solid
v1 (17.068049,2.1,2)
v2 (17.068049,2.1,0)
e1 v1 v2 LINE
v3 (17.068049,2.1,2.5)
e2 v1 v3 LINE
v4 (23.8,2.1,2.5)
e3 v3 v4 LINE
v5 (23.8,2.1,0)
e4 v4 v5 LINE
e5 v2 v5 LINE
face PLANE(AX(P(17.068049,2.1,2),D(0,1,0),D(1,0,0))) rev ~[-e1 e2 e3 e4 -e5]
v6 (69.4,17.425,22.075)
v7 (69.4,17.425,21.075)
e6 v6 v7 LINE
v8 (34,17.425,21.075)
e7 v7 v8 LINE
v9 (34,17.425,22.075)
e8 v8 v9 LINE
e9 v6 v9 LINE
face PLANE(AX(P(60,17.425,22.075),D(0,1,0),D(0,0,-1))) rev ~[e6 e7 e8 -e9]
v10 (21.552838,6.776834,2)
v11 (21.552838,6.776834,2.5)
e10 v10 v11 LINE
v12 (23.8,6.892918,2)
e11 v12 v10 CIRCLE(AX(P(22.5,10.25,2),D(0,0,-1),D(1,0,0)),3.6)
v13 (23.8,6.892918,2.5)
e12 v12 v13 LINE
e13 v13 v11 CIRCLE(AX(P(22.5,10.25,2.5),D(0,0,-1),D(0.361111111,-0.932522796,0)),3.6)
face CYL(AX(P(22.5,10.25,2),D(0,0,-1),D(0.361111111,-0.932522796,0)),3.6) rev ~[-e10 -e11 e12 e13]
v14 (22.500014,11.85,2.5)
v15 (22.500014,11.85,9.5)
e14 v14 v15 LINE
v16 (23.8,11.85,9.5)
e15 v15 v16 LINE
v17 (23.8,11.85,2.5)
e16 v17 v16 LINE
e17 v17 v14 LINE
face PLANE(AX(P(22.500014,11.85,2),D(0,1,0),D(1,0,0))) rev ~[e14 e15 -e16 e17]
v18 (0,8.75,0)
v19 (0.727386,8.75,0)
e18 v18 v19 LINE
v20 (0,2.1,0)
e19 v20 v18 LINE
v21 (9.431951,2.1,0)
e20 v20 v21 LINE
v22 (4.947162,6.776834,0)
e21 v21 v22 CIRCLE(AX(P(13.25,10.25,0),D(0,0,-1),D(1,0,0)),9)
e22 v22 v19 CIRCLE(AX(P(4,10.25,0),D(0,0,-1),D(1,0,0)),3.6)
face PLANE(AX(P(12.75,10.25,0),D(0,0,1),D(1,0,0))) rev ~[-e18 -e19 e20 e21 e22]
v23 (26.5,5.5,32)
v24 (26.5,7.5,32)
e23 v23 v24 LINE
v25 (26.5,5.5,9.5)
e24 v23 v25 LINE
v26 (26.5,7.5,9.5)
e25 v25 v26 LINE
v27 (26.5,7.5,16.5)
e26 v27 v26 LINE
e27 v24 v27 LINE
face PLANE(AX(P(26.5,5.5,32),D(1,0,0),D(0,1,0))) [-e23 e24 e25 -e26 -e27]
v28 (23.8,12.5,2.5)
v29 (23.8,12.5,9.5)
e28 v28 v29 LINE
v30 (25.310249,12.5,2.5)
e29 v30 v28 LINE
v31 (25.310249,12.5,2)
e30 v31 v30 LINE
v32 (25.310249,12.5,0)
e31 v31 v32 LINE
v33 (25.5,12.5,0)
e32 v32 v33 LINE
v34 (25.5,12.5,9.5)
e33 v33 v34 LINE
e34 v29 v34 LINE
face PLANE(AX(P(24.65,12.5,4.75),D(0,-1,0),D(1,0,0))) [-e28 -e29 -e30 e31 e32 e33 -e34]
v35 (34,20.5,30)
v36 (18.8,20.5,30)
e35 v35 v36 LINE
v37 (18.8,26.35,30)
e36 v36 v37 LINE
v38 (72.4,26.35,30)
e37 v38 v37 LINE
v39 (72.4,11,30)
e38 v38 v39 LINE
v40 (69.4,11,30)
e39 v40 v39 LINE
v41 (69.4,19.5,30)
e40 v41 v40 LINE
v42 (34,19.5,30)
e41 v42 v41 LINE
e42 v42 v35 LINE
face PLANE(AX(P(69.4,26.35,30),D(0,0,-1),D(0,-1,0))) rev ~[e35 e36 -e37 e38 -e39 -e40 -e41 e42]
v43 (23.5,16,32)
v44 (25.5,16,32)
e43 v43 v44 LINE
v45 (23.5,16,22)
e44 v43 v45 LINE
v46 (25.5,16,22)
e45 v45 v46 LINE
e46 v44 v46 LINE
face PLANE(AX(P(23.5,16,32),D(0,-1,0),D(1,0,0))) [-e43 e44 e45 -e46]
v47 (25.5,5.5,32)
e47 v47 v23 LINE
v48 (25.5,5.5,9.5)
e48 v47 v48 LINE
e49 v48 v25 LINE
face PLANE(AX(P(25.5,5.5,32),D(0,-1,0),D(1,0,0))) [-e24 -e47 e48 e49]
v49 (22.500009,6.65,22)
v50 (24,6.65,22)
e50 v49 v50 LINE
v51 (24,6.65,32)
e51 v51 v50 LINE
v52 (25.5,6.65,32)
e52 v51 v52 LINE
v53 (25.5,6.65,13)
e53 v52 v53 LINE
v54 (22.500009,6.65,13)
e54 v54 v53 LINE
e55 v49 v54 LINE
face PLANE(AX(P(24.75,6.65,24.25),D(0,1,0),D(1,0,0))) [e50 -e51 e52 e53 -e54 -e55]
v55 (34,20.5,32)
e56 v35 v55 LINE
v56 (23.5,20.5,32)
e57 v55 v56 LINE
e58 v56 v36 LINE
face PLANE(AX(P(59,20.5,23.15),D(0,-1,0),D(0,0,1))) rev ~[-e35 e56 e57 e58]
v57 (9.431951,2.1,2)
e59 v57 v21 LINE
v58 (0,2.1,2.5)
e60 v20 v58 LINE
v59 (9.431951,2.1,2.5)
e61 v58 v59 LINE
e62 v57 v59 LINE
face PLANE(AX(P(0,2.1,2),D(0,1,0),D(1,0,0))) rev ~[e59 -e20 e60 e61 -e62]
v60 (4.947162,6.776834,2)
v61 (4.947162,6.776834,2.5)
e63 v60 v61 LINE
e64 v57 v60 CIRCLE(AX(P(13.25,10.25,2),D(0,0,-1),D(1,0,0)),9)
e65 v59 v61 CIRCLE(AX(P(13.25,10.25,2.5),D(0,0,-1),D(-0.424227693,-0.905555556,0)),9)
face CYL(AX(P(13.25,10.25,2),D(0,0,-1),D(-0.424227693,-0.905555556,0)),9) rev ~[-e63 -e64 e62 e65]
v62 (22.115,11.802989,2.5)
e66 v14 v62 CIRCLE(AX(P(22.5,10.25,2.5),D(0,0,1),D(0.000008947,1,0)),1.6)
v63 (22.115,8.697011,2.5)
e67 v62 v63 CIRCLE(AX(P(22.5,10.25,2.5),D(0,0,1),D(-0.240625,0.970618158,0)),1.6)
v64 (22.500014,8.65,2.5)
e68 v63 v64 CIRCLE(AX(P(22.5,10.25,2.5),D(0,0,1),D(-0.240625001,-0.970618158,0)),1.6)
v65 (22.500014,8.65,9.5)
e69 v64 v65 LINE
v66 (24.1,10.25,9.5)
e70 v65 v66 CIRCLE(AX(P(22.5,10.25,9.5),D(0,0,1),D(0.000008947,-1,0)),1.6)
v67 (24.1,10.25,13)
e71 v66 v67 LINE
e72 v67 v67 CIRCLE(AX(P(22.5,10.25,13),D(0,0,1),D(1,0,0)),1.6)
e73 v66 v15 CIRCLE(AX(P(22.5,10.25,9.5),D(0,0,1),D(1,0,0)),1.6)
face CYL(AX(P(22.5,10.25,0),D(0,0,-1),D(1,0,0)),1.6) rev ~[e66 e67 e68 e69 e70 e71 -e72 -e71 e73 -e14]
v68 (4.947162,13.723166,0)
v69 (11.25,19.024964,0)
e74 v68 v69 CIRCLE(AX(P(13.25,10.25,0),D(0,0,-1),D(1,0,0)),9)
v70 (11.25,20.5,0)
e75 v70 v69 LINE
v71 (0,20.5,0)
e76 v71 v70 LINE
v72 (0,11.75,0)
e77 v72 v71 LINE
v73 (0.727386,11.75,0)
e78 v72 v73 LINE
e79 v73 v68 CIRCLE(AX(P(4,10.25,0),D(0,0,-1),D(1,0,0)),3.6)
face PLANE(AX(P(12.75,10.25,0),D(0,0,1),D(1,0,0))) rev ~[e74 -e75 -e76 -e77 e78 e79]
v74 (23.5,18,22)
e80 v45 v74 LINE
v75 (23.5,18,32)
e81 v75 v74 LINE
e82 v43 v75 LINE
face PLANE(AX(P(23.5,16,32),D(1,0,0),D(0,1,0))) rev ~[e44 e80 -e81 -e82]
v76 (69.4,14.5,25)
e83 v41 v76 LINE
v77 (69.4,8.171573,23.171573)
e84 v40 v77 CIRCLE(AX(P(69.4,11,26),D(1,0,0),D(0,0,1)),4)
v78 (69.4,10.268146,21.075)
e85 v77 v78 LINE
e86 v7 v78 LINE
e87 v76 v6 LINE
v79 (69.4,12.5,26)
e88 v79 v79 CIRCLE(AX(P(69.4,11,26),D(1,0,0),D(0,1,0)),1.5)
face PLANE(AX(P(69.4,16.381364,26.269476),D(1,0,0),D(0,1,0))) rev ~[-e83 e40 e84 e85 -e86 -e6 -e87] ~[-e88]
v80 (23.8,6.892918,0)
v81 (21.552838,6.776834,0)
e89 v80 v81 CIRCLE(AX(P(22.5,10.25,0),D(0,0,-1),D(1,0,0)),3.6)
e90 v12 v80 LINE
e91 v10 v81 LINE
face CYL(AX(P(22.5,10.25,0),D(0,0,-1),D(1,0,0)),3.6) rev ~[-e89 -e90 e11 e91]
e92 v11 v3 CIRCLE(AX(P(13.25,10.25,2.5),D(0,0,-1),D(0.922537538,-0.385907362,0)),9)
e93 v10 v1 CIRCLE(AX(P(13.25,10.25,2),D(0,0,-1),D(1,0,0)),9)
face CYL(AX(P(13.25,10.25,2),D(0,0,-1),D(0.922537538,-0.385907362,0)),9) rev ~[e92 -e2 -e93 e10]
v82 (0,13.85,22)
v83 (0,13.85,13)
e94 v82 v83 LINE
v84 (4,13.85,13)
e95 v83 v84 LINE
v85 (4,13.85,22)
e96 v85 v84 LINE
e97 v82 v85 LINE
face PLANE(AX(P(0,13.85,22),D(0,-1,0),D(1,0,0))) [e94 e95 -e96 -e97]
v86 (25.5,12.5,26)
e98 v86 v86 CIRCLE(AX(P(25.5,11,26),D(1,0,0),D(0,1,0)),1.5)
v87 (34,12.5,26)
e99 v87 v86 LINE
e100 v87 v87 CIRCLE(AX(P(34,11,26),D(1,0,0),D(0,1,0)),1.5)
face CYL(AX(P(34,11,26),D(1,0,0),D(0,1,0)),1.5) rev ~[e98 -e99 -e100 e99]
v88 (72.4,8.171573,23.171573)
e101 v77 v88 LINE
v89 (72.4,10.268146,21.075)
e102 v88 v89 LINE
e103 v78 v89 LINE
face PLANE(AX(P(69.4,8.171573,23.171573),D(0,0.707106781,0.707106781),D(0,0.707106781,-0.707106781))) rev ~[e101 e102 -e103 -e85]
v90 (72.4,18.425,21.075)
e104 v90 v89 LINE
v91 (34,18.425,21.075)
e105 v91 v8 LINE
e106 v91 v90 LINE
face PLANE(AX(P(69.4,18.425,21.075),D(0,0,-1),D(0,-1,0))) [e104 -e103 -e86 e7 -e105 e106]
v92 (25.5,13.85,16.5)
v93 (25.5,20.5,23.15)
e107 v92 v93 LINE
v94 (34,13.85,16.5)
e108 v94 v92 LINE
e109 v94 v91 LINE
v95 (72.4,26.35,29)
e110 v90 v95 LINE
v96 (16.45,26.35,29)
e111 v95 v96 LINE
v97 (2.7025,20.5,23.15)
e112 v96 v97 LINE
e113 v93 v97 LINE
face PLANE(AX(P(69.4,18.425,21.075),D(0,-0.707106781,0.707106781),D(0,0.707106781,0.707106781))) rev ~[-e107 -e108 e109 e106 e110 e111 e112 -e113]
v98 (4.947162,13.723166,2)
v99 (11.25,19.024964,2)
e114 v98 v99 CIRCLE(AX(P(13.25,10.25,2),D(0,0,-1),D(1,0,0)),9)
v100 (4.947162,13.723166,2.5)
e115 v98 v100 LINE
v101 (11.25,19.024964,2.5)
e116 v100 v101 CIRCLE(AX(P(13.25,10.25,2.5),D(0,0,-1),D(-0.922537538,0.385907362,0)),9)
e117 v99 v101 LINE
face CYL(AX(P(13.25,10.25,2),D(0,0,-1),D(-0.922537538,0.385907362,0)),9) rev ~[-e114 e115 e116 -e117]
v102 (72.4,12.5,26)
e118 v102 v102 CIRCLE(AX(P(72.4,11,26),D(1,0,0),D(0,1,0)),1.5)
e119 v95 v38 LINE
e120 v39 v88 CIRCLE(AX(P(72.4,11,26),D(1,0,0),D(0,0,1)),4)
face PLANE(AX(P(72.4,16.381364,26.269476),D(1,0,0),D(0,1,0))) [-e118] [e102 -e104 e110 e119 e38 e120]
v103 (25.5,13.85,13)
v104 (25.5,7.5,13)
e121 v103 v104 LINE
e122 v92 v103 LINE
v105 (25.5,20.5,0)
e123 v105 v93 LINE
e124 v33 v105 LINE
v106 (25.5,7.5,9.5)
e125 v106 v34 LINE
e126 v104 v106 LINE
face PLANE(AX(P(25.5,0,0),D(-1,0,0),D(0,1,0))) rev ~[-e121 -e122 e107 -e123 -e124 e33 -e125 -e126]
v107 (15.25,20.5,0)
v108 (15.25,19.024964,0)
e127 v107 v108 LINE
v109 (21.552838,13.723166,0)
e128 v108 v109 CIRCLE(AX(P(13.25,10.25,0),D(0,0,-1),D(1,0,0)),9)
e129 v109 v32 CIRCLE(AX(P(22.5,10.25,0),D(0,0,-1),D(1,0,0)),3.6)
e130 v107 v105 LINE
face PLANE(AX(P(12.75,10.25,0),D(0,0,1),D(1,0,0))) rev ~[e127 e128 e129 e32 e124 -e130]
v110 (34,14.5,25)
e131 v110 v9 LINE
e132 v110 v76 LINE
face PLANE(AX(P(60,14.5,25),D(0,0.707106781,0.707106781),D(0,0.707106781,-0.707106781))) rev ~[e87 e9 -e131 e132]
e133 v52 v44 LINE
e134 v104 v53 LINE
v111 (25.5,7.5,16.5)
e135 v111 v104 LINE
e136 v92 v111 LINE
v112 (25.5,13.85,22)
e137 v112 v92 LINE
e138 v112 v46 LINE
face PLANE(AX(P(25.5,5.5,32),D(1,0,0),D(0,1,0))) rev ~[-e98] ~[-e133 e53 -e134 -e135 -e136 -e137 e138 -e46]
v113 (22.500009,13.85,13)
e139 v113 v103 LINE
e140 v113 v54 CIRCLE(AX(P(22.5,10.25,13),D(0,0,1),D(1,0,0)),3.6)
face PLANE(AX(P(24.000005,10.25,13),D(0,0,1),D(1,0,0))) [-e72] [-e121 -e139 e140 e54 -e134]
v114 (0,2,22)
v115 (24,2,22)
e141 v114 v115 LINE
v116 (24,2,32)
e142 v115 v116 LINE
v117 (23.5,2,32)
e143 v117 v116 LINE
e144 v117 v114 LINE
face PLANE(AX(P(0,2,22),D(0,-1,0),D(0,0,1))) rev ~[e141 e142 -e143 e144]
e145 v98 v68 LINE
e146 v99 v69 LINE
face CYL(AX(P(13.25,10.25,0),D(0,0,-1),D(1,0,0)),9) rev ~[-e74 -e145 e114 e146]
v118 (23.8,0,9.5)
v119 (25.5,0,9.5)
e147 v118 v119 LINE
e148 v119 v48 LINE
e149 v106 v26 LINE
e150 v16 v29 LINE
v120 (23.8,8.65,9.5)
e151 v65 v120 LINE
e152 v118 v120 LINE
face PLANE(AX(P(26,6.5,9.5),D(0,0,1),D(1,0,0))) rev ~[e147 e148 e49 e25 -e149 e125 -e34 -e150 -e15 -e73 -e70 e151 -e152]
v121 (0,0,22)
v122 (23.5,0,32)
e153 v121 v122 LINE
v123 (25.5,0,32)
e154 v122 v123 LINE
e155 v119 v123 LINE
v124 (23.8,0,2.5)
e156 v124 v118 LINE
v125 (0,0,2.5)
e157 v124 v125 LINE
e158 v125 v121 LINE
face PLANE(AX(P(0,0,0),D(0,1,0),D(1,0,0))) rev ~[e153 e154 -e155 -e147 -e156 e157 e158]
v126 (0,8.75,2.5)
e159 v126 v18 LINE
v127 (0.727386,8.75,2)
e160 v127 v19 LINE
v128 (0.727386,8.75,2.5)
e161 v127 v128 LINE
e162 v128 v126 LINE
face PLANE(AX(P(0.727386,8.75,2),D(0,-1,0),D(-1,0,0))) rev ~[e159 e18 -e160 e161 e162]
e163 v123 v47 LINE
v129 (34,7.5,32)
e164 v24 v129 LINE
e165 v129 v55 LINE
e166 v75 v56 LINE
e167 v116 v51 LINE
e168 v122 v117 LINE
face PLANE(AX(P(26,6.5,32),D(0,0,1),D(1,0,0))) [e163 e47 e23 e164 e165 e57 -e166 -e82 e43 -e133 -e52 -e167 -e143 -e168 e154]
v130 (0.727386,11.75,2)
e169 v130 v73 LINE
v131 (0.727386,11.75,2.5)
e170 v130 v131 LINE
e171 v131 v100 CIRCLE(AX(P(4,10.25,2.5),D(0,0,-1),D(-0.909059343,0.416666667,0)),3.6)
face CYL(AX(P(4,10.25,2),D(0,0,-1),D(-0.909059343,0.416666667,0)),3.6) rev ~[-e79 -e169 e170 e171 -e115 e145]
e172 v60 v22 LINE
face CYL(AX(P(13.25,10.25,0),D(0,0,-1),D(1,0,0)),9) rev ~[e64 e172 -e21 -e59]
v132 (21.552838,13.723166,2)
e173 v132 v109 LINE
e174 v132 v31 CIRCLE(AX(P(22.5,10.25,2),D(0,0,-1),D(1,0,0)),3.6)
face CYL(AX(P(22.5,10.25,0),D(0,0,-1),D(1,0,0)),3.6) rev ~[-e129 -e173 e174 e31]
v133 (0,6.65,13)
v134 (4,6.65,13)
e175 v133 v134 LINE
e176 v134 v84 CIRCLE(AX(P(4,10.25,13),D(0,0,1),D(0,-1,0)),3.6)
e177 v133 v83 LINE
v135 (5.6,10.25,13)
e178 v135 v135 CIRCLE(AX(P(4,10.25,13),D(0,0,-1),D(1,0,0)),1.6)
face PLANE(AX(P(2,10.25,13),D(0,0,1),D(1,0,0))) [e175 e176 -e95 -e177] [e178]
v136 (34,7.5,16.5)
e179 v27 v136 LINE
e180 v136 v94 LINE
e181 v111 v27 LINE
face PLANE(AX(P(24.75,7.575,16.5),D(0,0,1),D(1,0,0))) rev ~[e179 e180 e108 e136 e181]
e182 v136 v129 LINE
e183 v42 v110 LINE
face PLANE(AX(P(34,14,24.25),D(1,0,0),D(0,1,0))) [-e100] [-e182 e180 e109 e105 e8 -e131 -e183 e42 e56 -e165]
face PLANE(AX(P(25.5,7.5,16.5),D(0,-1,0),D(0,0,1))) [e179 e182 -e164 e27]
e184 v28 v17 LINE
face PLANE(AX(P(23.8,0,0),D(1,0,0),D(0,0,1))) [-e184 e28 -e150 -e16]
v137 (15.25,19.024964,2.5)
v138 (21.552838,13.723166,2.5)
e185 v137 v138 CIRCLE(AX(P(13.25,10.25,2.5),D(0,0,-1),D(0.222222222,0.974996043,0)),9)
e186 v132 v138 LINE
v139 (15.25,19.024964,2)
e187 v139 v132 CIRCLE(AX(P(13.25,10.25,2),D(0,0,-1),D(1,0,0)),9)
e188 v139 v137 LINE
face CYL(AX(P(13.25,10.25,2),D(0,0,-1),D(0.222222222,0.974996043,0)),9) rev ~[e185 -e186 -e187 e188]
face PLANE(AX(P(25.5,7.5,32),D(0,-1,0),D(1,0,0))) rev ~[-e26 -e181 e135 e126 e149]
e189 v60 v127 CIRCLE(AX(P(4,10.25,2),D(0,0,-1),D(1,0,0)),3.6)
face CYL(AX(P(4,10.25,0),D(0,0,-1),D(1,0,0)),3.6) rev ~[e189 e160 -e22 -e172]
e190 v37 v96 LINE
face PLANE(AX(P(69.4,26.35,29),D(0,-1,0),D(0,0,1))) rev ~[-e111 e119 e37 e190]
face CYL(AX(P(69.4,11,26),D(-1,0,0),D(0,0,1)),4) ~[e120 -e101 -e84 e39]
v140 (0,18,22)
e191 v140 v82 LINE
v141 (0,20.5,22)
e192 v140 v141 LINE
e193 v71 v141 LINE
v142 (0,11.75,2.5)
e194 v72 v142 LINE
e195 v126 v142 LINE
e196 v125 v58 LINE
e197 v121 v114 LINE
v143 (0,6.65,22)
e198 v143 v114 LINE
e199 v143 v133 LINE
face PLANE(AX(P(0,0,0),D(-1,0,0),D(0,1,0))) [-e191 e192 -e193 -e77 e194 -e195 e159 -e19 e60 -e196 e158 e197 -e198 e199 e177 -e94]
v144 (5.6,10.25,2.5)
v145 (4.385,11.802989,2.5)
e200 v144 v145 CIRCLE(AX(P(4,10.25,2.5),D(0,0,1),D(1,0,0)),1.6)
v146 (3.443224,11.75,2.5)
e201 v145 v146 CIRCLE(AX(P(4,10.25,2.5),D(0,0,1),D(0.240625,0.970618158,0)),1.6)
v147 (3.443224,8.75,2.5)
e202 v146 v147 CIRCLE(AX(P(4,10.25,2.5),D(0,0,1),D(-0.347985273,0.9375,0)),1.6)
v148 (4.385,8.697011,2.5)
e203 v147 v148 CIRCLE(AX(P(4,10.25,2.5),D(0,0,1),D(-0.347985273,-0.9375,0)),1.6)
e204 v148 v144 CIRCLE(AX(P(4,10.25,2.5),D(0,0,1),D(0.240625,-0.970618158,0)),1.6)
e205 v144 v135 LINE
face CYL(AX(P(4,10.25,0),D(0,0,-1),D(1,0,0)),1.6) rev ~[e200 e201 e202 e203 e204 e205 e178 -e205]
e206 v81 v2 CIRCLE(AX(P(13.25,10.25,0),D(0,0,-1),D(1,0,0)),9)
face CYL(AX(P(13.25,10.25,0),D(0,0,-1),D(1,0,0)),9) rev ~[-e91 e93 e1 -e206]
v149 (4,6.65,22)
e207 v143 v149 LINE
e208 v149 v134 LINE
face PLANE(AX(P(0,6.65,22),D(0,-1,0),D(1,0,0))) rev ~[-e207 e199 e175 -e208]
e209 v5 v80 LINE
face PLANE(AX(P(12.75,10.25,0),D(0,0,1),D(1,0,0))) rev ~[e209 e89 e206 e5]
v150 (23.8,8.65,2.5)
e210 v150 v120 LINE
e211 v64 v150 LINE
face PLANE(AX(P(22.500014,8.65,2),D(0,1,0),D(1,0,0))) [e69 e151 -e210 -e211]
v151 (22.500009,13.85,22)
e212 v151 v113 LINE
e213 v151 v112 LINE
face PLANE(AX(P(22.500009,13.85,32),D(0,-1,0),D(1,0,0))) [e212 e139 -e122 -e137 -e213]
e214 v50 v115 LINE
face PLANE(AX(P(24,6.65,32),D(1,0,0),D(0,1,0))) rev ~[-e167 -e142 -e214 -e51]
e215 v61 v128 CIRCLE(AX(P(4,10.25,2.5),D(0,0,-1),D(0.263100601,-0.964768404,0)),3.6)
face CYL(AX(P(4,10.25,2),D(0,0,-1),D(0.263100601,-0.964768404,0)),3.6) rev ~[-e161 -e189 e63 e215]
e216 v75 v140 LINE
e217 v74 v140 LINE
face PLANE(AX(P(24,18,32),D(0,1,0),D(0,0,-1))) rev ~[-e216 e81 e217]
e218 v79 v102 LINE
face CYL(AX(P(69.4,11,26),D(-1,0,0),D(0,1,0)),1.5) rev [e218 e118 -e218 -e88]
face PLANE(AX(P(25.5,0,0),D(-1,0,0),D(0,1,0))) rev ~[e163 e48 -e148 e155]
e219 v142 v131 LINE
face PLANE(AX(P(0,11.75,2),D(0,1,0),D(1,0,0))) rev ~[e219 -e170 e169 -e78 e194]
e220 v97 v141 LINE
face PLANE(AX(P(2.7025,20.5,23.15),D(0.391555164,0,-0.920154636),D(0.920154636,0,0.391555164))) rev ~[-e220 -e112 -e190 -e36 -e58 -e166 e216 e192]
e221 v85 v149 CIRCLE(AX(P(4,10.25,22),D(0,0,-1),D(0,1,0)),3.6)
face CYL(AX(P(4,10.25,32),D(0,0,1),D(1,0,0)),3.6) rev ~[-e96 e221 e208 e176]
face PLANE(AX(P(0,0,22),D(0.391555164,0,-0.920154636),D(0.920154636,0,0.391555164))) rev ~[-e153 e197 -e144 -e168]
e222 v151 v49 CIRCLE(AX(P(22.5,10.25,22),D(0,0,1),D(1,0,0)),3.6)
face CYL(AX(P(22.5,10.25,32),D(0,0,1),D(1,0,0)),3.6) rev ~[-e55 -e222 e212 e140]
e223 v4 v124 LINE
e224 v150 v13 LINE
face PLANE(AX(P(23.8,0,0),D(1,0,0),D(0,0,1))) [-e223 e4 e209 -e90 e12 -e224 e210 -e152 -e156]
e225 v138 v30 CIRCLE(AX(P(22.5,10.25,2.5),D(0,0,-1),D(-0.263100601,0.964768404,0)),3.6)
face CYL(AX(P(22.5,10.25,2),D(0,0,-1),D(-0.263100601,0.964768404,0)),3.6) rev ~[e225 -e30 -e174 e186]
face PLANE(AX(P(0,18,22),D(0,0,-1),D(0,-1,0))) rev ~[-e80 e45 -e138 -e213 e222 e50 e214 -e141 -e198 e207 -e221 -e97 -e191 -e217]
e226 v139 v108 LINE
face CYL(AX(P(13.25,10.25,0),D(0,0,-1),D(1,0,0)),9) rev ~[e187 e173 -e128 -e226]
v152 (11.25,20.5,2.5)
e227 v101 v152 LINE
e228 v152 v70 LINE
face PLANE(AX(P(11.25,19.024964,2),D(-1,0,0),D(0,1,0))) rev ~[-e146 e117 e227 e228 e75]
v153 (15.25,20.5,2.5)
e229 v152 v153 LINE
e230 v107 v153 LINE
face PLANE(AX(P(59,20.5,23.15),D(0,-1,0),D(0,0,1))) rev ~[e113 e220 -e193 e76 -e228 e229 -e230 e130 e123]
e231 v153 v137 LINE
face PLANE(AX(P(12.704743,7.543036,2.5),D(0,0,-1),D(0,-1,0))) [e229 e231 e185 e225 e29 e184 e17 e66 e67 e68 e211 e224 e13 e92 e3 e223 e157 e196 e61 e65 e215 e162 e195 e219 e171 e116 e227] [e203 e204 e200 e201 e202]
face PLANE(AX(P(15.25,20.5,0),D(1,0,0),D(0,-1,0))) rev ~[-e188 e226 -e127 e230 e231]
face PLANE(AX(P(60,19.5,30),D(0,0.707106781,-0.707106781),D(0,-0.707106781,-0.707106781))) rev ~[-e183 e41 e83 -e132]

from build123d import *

# Parameters (mm, degrees)
SKETCH_W           = 25.5
SKETCH_H           = 20.5
PAD_DEPTH          = 32
POCKET_DEPTH       = 20.501
SKETCH002_W        = 25.5
SKETCH002_H        = 2
POCKET001_DEPTH    = 2.1
SKETCH003_W        = 1.7
SKETCH003_H        = 9.5
POCKET002_DEPTH    = 12.5
SKETCH004_R        = 1.6
POCKET003_DEPTH    = 32.001
SKETCH005_R        = 3.6
POCKET004_DEPTH    = 2
SKETCH006_R        = 9
POCKET005_DEPTH    = 2
SKETCH007_R        = 3.6
POCKET006_DEPTH    = 19
SKETCH008_W        = 2.9999909846
SKETCH008_H        = 7.2
POCKET007_DEPTH    = 19
SKETCH009_W        = 2.9999856852
SKETCH009_H        = 3.2
POCKET008_DEPTH    = 7.5
SKETCH010_W        = 13
SKETCH010_H        = 15.5
PAD001_DEPTH       = 8.5
SKETCH011_W        = 16
SKETCH011_H        = 10
POCKET009_DEPTH    = 24
SKETCH012_W        = 4
SKETCH012_H        = 7.2
POCKET010_DEPTH    = 9
SKETCH013_W        = 1.5
SKETCH013_H        = 1.85
PAD002_DEPTH       = 15.5
PAD002_FACE36_W    = 4.15
PAD002_FACE36_H    = 10
POCKET011_DEPTH    = 1.5
SKETCH014_R        = 1.5
POCKET012_DEPTH    = 34.001
POCKET012_FACE43_W = 1.5
POCKET012_FACE43_H = 15.5
POCKET013_DEPTH    = 1.85
SKETCH015_W        = 4
SKETCH015_H        = 4.8
SKETCH015_H_2      = 3
POCKET014_DEPTH    = 2
POCKET015_DEPTH    = 8.5
PAD003_DEPTH       = 25
SKETCH018_W        = 1
SKETCH018_H        = 1
POCKET016_DEPTH    = 25
SKETCH019_W        = 2
SKETCH019_H        = 2
PAD004_DEPTH       = 10
SKETCH020_W        = 1
SKETCH020_H        = 2
PAD005_DEPTH       = 22.5
POCKET017_DEPTH    = 25
PAD006_DEPTH       = 25
PAD007_DEPTH       = 1
POCKET018_DEPTH    = 0.5
PAD008_DEPTH       = 58
POCKET019_DEPTH    = 5.851
PAD009_DEPTH       = 9.4
SKETCH024_R        = 1.5
PAD010_DEPTH       = 3


with BuildPart() as part:
    # Sketch → Pad (new body)
    with BuildSketch(Plane.XY):
        with Locations((12.75, 10.25)):
            Rectangle(SKETCH_W, SKETCH_H)
    extrude(amount=PAD_DEPTH)

    # Sketch001 (on Face1 of Pad) → Pocket (cut, through all)
    with BuildSketch(Plane.XZ):
        Polygon((0, 22), (23.5, 32), (0, 32), align=None)
    extrude(amount=-POCKET_DEPTH, mode=Mode.SUBTRACT)

    # Sketch002 (on Face1 of Pocket) → Pocket001 (cut)
    with BuildSketch(Plane.XZ):
        with Locations((12.75, 1)):
            Rectangle(SKETCH002_W, SKETCH002_H)
    extrude(amount=-POCKET001_DEPTH, mode=Mode.SUBTRACT)

    # Sketch003 (on Face1 of Pocket001) → Pocket002 (cut)
    with BuildSketch(Plane.XZ):
        with Locations((24.65, 4.75)):
            Rectangle(SKETCH003_W, SKETCH003_H)
    extrude(amount=-POCKET002_DEPTH, mode=Mode.SUBTRACT)

    # Sketch004 (on Face10 of Pocket002) → Pocket003 (cut, through all)
    with BuildSketch(Plane(origin=(0, 0, 0), x_dir=(1, 0, 0), z_dir=(0, 0, -1))):
        with Locations((4, -10.25)):
            Circle(SKETCH004_R)
        with Locations((22.5, -10.25)):
            Circle(SKETCH004_R)
    extrude(amount=-POCKET003_DEPTH, mode=Mode.SUBTRACT)

    # Sketch005 (on Face10 of Pocket003) → Pocket004 (cut)
    with BuildSketch(Plane(origin=(0, 0, 0), x_dir=(1, 0, 0), z_dir=(0, 0, -1))):
        with Locations((4, -10.25)):
            Circle(SKETCH005_R)
        with Locations((22.5, -10.25)):
            Circle(SKETCH005_R)
    extrude(amount=-POCKET004_DEPTH, mode=Mode.SUBTRACT)

    # Sketch006 (on Face10 of Pocket004) → Pocket005 (cut)
    with BuildSketch(Plane(origin=(0, 0, 0), x_dir=(1, 0, 0), z_dir=(0, 0, -1))):
        with Locations((13.25, -10.25)):
            Circle(SKETCH006_R)
    extrude(amount=-POCKET005_DEPTH, mode=Mode.SUBTRACT)

    # Sketch007 (on Face5 of Pocket005) → Pocket006 (cut)
    with BuildSketch(Plane.XY.offset(32)):
        with Locations((4, 10.25)):
            Circle(SKETCH007_R)
        with Locations((22.5, 10.25)):
            Circle(SKETCH007_R)
    extrude(amount=-POCKET006_DEPTH, mode=Mode.SUBTRACT)

    # Sketch008 (on Face5 of Pocket006) → Pocket007 (cut)
    with BuildSketch(Plane.XY.offset(32)):
        with Locations((24.0000045077, 10.25)):
            Rectangle(SKETCH008_W, SKETCH008_H)
    extrude(amount=-POCKET007_DEPTH, mode=Mode.SUBTRACT)

    # Sketch009 (on Face8 of Pocket007) → Pocket008 (cut)
    with BuildSketch(Plane(origin=(0, 0, 2), x_dir=(1, 0, 0), z_dir=(0, 0, -1))):
        with Locations((24.0000071574, -10.25)):
            Rectangle(SKETCH009_W, SKETCH009_H)
    extrude(amount=-POCKET008_DEPTH, mode=Mode.SUBTRACT)

    # Sketch010 (on Face3 of Pocket008) → Pad001 (join)
    with BuildSketch(Plane.YZ.offset(25.5)):
        with Locations((14, 24.25)):
            Rectangle(SKETCH010_W, SKETCH010_H)
    extrude(amount=PAD001_DEPTH)

    # Sketch011 (on Face7 of Pad001) → Pocket009 (cut)
    with BuildSketch(Plane(origin=(0, 0, 0), x_dir=(0, -1, 0), z_dir=(-1, 0, 0))):
        with Locations((-10, 27)):
            Rectangle(SKETCH011_W, SKETCH011_H)
    extrude(amount=-POCKET009_DEPTH, mode=Mode.SUBTRACT)

    # Sketch012 (on Face26 of Pocket009) → Pocket010 (cut)
    with BuildSketch(Plane.XY.offset(22)):
        with Locations((2, 10.25)):
            Rectangle(SKETCH012_W, SKETCH012_H)
    extrude(amount=-POCKET010_DEPTH, mode=Mode.SUBTRACT)

    # Sketch013 (on Face36 of Pocket010) → Pad002 (join)
    with BuildSketch(Plane.XY.offset(32)):
        with Locations((24.75, 7.575)):
            Rectangle(SKETCH013_W, SKETCH013_H)
    extrude(amount=-PAD002_DEPTH)

    # Pad002 Face36 → Pocket011 (cut)
    with BuildSketch(Plane(origin=(24, 15.925, 27), x_dir=(0, 1, 0), z_dir=(-1, 0, 0))):
        Rectangle(PAD002_FACE36_W, PAD002_FACE36_H)
    extrude(amount=-POCKET011_DEPTH, mode=Mode.SUBTRACT)

    # Sketch014 (on Face35 of Pocket011) → Pocket012 (cut, through all)
    with BuildSketch(Plane.YZ.offset(34)):
        with Locations((11, 26)):
            Circle(SKETCH014_R)
    extrude(amount=-POCKET012_DEPTH, mode=Mode.SUBTRACT)

    # Pocket012 Face43 → Pocket013 (cut)
    with BuildSketch(Plane(origin=(24.75, 8.5, 24.25), x_dir=(1, 0, 0), z_dir=(0, 1, 0))):
        Rectangle(POCKET012_FACE43_W, POCKET012_FACE43_H)
    extrude(amount=-POCKET013_DEPTH, mode=Mode.SUBTRACT)

    # Sketch015 (on Face2 of Pocket013) → Pocket014 (cut)
    with BuildSketch(Plane(origin=(0, 0, 0), x_dir=(1, 0, 0), z_dir=(0, 0, -1))):
        with Locations((13.25, -18.1)):
            Rectangle(SKETCH015_W, SKETCH015_H)
        with Locations((2, -10.25)):
            Rectangle(SKETCH015_W, SKETCH015_H_2)
    extrude(amount=-POCKET014_DEPTH, mode=Mode.SUBTRACT)

    # Sketch016 (on Face45 of Pocket014) → Pocket015 (cut)
    with BuildSketch(Plane.YZ.offset(34)):
        Polygon((13.85, 16.5), (20.5, 23.15), (20.5, 16.5), align=None)
    extrude(amount=-POCKET015_DEPTH, mode=Mode.SUBTRACT)

    # Sketch017 (on Face46 of Pocket015) → Pad003 (join)
    with BuildSketch(Plane.YZ.offset(34)):
        Polygon((20.5, 31), (14.5, 25), (14.5, 17.15), (20.5, 23.15), align=None)
    extrude(amount=PAD003_DEPTH)

    # Sketch018 (on Face53 of Pad003) → Pocket016 (cut)
    with BuildSketch(Plane.YZ.offset(59)):
        with Locations((20, 30.5)):
            Rectangle(SKETCH018_W, SKETCH018_H)
        with Locations((15, 17.65)):
            Rectangle(SKETCH018_W, SKETCH018_H)
    extrude(amount=-POCKET016_DEPTH, mode=Mode.SUBTRACT)

    # Sketch019 (on Face45 of Pocket016) → Pad004 (join)
    with BuildSketch(Plane.XY.offset(32)):
        with Locations((24.5, 17)):
            Rectangle(SKETCH019_W, SKETCH019_H)
    extrude(amount=-PAD004_DEPTH)

    # Sketch020 (on Face60 of Pad004) → Pad005 (join)
    with BuildSketch(Plane.XY.offset(32)):
        with Locations((26, 6.5)):
            Rectangle(SKETCH020_W, SKETCH020_H)
    extrude(amount=-PAD005_DEPTH)

    # Sketch021 (on Face46 of Pad005) → Pocket017 (cut)
    with BuildSketch(Plane.YZ.offset(59)):
        Polygon((14.5, 25), (18.425, 21.075), (14.5, 17.15), align=None)
    extrude(amount=-POCKET017_DEPTH, mode=Mode.SUBTRACT)

    # Sketch022 (on Face49 of Pocket017) → Pad006 (join)
    with BuildSketch(Plane.YZ.offset(59)):
        Polygon((18.425, 21.075), (17.425, 21.075), (17.425, 22.075), align=None)
    extrude(amount=-PAD006_DEPTH)

    # Pad006 Face64 → Pad007 (add)
    with BuildSketch(Plane(origin=(59, 18.28427215, 25.3924064799), x_dir=(0, -1, 0), z_dir=(1, 0, 0))):
        Polygon((-2.21572785, -4.6075935201), (-1.21572785, -4.6075935201), (3.78427215, 0.3924064799), (0.85927215, 3.3174064799), (0.85927215, 4.3174064799), (-0.14072785, 4.3174064799), (-2.21572785, 2.2424064799), align=None)
    extrude(amount=PAD007_DEPTH)

    # Pad007 Face4 → Pocket018 (cut)
    with BuildSketch(Plane(origin=(12.6211473302, 9.1246275662, 2), x_dir=(0, -1, 0), z_dir=(0, 0, -1))):
        with BuildLine():
            Line((0.3746275662, 12.6211473302), (-2.6253724338, 12.6211473302))
            Line((-2.6253724338, 12.6211473302), (-2.6253724338, 11.8937609646))
            ThreePointArc((-2.6253724338, 11.8937609646), (-4.3864646733, 10.1460333605), (-4.5985386893, 7.6739851681))
            ThreePointArc((-4.5985386893, 7.6739851681), (-8.0127244114, 5.1646249332), (-9.9003368212, 1.3711473302))
            Line((-9.9003368212, 1.3711473302), (-11.3753724338, 1.3711473302))
            Line((-11.3753724338, 1.3711473302), (-11.3753724338, -2.6288526698))
            Line((-11.3753724338, -2.6288526698), (-9.9003368212, -2.6288526698))
            ThreePointArc((-9.9003368212, -2.6288526698), (-8.0127244114, -6.4223302727), (-4.5985386893, -8.9316905076))
            ThreePointArc((-4.5985386893, -8.9316905076), (-4.5485570394, -10.9932166839), (-3.3753724338, -12.6891017691))
            Line((-3.3753724338, -12.6891017691), (-3.3753724338, -11.1788526698))
            Line((-3.3753724338, -11.1788526698), (-2.7253724338, -11.1788526698))
            Line((-2.7253724338, -11.1788526698), (-2.7253724338, -9.8788669846))
            ThreePointArc((-2.7253724337, -9.8788669846), (-2.71357708, -9.6849300003), (-2.6783614872, -9.4938526698))
            ThreePointArc((-2.6783614872, -9.4938526698), (-1.1253724338, -8.2788526698), (0.4276166196, -9.4938526698))
            ThreePointArc((0.4276166196, -9.4938526698), (0.4628322125, -9.6849300003), (0.4746275662, -9.8788669846))
            Line((0.4746275662, -9.8788669846), (0.4746275662, -11.1788526698))
            Line((0.4746275662, -11.1788526698), (2.2317096326, -11.1788526698))
            ThreePointArc((2.2317096326, -11.1788526698), (2.4698337467, -10.0645742886), (2.3477938218, -8.9316905076))
            ThreePointArc((2.3477938218, -8.9316905076), (5.1038193792, -7.124787503), (7.0246275662, -4.4469019099))
            Line((7.0246275662, -4.4469019099), (7.0246275662, -11.1788526698))
            Line((7.0246275662, -11.1788526698), (9.1246275662, -11.1788526698))
            Line((9.1246275662, -11.1788526698), (9.1246275662, 12.6211473302))
            Line((9.1246275662, 12.6211473302), (7.0246275662, 12.6211473302))
            Line((7.0246275662, 12.6211473302), (7.0246275662, 3.1891965703))
            ThreePointArc((7.0246275662, 3.1891965703), (5.1038193792, 5.8670821634), (2.3477938218, 7.6739851681))
            ThreePointArc((2.3477938218, 7.6739851681), (2.1357198057, 10.1460333605), (0.3746275662, 11.8937609646))
            Line((0.3746275662, 11.8937609646), (0.3746275662, 12.6211473302))
        make_face()
        with BuildLine():
            ThreePointArc((-2.6253724338, 9.1779237665), (-1.1253724338, 10.2211473302), (0.3746275662, 9.1779237665))
            ThreePointArc((0.3746275662, 9.1779237665), (0.4721009632, 8.7110291747), (0.4276166196, 8.2361473302))
            ThreePointArc((0.4276166196, 8.2361473302), (-0.1394718303, 7.3609886101), (-1.1253724338, 7.0211473302))
            ThreePointArc((-1.1253724338, 7.0211473302), (-2.1112730373, 7.3609886101), (-2.6783614872, 8.2361473302))
            ThreePointArc((-2.6783614872, 8.2361473302), (-2.7228458307, 8.7110291747), (-2.6253724338, 9.1779237665))
        make_face(mode=Mode.SUBTRACT)
    extrude(amount=-POCKET018_DEPTH, mode=Mode.SUBTRACT)

    # Sketch023 (on Face35 of Pocket018) → Pad008 (join)
    with BuildSketch(Plane.YZ.offset(60)):
        Polygon((20.5, 23.15), (26.35, 29), (26.35, 30), (20.5, 30), align=None)
    extrude(amount=-PAD008_DEPTH)

    # Pad008 Face47 → Pocket019 (cut, through all)
    with BuildSketch(Plane(origin=(7.6093987764, 20.5, 27.6250202352), x_dir=(-1, 0, 0), z_dir=(0, -1, 0))):
        Polygon((4.9068987764, 4.4750202352), (-11.1906012236, -2.3749797648), (5.6093987764, -2.3749797648), (5.6093987764, 4.4750202352), align=None)
    extrude(amount=-POCKET019_DEPTH, mode=Mode.SUBTRACT)

    # Pocket019 Face62 → Pad009 (add)
    with BuildSketch(Plane(origin=(60, 20.1386845476, 26.3510071585), x_dir=(0, -1, 0), z_dir=(1, 0, 0))):
        Polygon((1.7136845476, 5.2760071585), (-6.2113154524, -2.6489928415), (-6.2113154524, -3.6489928415), (0.6386845476, -3.6489928415), (5.6386845476, 1.3510071585), (2.7136845476, 4.2760071585), (2.7136845476, 5.2760071585), align=None)
    extrude(amount=PAD009_DEPTH)

    # Sketch024 (on Face60 of Pad009) → Pad010 (join)
    with BuildSketch(Plane.YZ.offset(69.4)):
        with BuildLine():
            ThreePointArc((11, 30), (7.30448187, 27.5307337295), (8.1715728753, 23.1715728753))
            Line((8.1715728753, 23.1715728753), (10.2681457504, 21.075))
            Line((18.425, 21.075), (10.2681457504, 21.075))
            Line((18.425, 21.075), (26.35, 29))
            Line((26.35, 29), (26.35, 30))
            Line((26.35, 30), (20.5, 30))
            Line((20.5, 30), (11, 30))
        make_face()
        with Locations((11, 26)):
            Circle(SKETCH024_R, mode=Mode.SUBTRACT)
    extrude(amount=PAD010_DEPTH)


solid = part.part
